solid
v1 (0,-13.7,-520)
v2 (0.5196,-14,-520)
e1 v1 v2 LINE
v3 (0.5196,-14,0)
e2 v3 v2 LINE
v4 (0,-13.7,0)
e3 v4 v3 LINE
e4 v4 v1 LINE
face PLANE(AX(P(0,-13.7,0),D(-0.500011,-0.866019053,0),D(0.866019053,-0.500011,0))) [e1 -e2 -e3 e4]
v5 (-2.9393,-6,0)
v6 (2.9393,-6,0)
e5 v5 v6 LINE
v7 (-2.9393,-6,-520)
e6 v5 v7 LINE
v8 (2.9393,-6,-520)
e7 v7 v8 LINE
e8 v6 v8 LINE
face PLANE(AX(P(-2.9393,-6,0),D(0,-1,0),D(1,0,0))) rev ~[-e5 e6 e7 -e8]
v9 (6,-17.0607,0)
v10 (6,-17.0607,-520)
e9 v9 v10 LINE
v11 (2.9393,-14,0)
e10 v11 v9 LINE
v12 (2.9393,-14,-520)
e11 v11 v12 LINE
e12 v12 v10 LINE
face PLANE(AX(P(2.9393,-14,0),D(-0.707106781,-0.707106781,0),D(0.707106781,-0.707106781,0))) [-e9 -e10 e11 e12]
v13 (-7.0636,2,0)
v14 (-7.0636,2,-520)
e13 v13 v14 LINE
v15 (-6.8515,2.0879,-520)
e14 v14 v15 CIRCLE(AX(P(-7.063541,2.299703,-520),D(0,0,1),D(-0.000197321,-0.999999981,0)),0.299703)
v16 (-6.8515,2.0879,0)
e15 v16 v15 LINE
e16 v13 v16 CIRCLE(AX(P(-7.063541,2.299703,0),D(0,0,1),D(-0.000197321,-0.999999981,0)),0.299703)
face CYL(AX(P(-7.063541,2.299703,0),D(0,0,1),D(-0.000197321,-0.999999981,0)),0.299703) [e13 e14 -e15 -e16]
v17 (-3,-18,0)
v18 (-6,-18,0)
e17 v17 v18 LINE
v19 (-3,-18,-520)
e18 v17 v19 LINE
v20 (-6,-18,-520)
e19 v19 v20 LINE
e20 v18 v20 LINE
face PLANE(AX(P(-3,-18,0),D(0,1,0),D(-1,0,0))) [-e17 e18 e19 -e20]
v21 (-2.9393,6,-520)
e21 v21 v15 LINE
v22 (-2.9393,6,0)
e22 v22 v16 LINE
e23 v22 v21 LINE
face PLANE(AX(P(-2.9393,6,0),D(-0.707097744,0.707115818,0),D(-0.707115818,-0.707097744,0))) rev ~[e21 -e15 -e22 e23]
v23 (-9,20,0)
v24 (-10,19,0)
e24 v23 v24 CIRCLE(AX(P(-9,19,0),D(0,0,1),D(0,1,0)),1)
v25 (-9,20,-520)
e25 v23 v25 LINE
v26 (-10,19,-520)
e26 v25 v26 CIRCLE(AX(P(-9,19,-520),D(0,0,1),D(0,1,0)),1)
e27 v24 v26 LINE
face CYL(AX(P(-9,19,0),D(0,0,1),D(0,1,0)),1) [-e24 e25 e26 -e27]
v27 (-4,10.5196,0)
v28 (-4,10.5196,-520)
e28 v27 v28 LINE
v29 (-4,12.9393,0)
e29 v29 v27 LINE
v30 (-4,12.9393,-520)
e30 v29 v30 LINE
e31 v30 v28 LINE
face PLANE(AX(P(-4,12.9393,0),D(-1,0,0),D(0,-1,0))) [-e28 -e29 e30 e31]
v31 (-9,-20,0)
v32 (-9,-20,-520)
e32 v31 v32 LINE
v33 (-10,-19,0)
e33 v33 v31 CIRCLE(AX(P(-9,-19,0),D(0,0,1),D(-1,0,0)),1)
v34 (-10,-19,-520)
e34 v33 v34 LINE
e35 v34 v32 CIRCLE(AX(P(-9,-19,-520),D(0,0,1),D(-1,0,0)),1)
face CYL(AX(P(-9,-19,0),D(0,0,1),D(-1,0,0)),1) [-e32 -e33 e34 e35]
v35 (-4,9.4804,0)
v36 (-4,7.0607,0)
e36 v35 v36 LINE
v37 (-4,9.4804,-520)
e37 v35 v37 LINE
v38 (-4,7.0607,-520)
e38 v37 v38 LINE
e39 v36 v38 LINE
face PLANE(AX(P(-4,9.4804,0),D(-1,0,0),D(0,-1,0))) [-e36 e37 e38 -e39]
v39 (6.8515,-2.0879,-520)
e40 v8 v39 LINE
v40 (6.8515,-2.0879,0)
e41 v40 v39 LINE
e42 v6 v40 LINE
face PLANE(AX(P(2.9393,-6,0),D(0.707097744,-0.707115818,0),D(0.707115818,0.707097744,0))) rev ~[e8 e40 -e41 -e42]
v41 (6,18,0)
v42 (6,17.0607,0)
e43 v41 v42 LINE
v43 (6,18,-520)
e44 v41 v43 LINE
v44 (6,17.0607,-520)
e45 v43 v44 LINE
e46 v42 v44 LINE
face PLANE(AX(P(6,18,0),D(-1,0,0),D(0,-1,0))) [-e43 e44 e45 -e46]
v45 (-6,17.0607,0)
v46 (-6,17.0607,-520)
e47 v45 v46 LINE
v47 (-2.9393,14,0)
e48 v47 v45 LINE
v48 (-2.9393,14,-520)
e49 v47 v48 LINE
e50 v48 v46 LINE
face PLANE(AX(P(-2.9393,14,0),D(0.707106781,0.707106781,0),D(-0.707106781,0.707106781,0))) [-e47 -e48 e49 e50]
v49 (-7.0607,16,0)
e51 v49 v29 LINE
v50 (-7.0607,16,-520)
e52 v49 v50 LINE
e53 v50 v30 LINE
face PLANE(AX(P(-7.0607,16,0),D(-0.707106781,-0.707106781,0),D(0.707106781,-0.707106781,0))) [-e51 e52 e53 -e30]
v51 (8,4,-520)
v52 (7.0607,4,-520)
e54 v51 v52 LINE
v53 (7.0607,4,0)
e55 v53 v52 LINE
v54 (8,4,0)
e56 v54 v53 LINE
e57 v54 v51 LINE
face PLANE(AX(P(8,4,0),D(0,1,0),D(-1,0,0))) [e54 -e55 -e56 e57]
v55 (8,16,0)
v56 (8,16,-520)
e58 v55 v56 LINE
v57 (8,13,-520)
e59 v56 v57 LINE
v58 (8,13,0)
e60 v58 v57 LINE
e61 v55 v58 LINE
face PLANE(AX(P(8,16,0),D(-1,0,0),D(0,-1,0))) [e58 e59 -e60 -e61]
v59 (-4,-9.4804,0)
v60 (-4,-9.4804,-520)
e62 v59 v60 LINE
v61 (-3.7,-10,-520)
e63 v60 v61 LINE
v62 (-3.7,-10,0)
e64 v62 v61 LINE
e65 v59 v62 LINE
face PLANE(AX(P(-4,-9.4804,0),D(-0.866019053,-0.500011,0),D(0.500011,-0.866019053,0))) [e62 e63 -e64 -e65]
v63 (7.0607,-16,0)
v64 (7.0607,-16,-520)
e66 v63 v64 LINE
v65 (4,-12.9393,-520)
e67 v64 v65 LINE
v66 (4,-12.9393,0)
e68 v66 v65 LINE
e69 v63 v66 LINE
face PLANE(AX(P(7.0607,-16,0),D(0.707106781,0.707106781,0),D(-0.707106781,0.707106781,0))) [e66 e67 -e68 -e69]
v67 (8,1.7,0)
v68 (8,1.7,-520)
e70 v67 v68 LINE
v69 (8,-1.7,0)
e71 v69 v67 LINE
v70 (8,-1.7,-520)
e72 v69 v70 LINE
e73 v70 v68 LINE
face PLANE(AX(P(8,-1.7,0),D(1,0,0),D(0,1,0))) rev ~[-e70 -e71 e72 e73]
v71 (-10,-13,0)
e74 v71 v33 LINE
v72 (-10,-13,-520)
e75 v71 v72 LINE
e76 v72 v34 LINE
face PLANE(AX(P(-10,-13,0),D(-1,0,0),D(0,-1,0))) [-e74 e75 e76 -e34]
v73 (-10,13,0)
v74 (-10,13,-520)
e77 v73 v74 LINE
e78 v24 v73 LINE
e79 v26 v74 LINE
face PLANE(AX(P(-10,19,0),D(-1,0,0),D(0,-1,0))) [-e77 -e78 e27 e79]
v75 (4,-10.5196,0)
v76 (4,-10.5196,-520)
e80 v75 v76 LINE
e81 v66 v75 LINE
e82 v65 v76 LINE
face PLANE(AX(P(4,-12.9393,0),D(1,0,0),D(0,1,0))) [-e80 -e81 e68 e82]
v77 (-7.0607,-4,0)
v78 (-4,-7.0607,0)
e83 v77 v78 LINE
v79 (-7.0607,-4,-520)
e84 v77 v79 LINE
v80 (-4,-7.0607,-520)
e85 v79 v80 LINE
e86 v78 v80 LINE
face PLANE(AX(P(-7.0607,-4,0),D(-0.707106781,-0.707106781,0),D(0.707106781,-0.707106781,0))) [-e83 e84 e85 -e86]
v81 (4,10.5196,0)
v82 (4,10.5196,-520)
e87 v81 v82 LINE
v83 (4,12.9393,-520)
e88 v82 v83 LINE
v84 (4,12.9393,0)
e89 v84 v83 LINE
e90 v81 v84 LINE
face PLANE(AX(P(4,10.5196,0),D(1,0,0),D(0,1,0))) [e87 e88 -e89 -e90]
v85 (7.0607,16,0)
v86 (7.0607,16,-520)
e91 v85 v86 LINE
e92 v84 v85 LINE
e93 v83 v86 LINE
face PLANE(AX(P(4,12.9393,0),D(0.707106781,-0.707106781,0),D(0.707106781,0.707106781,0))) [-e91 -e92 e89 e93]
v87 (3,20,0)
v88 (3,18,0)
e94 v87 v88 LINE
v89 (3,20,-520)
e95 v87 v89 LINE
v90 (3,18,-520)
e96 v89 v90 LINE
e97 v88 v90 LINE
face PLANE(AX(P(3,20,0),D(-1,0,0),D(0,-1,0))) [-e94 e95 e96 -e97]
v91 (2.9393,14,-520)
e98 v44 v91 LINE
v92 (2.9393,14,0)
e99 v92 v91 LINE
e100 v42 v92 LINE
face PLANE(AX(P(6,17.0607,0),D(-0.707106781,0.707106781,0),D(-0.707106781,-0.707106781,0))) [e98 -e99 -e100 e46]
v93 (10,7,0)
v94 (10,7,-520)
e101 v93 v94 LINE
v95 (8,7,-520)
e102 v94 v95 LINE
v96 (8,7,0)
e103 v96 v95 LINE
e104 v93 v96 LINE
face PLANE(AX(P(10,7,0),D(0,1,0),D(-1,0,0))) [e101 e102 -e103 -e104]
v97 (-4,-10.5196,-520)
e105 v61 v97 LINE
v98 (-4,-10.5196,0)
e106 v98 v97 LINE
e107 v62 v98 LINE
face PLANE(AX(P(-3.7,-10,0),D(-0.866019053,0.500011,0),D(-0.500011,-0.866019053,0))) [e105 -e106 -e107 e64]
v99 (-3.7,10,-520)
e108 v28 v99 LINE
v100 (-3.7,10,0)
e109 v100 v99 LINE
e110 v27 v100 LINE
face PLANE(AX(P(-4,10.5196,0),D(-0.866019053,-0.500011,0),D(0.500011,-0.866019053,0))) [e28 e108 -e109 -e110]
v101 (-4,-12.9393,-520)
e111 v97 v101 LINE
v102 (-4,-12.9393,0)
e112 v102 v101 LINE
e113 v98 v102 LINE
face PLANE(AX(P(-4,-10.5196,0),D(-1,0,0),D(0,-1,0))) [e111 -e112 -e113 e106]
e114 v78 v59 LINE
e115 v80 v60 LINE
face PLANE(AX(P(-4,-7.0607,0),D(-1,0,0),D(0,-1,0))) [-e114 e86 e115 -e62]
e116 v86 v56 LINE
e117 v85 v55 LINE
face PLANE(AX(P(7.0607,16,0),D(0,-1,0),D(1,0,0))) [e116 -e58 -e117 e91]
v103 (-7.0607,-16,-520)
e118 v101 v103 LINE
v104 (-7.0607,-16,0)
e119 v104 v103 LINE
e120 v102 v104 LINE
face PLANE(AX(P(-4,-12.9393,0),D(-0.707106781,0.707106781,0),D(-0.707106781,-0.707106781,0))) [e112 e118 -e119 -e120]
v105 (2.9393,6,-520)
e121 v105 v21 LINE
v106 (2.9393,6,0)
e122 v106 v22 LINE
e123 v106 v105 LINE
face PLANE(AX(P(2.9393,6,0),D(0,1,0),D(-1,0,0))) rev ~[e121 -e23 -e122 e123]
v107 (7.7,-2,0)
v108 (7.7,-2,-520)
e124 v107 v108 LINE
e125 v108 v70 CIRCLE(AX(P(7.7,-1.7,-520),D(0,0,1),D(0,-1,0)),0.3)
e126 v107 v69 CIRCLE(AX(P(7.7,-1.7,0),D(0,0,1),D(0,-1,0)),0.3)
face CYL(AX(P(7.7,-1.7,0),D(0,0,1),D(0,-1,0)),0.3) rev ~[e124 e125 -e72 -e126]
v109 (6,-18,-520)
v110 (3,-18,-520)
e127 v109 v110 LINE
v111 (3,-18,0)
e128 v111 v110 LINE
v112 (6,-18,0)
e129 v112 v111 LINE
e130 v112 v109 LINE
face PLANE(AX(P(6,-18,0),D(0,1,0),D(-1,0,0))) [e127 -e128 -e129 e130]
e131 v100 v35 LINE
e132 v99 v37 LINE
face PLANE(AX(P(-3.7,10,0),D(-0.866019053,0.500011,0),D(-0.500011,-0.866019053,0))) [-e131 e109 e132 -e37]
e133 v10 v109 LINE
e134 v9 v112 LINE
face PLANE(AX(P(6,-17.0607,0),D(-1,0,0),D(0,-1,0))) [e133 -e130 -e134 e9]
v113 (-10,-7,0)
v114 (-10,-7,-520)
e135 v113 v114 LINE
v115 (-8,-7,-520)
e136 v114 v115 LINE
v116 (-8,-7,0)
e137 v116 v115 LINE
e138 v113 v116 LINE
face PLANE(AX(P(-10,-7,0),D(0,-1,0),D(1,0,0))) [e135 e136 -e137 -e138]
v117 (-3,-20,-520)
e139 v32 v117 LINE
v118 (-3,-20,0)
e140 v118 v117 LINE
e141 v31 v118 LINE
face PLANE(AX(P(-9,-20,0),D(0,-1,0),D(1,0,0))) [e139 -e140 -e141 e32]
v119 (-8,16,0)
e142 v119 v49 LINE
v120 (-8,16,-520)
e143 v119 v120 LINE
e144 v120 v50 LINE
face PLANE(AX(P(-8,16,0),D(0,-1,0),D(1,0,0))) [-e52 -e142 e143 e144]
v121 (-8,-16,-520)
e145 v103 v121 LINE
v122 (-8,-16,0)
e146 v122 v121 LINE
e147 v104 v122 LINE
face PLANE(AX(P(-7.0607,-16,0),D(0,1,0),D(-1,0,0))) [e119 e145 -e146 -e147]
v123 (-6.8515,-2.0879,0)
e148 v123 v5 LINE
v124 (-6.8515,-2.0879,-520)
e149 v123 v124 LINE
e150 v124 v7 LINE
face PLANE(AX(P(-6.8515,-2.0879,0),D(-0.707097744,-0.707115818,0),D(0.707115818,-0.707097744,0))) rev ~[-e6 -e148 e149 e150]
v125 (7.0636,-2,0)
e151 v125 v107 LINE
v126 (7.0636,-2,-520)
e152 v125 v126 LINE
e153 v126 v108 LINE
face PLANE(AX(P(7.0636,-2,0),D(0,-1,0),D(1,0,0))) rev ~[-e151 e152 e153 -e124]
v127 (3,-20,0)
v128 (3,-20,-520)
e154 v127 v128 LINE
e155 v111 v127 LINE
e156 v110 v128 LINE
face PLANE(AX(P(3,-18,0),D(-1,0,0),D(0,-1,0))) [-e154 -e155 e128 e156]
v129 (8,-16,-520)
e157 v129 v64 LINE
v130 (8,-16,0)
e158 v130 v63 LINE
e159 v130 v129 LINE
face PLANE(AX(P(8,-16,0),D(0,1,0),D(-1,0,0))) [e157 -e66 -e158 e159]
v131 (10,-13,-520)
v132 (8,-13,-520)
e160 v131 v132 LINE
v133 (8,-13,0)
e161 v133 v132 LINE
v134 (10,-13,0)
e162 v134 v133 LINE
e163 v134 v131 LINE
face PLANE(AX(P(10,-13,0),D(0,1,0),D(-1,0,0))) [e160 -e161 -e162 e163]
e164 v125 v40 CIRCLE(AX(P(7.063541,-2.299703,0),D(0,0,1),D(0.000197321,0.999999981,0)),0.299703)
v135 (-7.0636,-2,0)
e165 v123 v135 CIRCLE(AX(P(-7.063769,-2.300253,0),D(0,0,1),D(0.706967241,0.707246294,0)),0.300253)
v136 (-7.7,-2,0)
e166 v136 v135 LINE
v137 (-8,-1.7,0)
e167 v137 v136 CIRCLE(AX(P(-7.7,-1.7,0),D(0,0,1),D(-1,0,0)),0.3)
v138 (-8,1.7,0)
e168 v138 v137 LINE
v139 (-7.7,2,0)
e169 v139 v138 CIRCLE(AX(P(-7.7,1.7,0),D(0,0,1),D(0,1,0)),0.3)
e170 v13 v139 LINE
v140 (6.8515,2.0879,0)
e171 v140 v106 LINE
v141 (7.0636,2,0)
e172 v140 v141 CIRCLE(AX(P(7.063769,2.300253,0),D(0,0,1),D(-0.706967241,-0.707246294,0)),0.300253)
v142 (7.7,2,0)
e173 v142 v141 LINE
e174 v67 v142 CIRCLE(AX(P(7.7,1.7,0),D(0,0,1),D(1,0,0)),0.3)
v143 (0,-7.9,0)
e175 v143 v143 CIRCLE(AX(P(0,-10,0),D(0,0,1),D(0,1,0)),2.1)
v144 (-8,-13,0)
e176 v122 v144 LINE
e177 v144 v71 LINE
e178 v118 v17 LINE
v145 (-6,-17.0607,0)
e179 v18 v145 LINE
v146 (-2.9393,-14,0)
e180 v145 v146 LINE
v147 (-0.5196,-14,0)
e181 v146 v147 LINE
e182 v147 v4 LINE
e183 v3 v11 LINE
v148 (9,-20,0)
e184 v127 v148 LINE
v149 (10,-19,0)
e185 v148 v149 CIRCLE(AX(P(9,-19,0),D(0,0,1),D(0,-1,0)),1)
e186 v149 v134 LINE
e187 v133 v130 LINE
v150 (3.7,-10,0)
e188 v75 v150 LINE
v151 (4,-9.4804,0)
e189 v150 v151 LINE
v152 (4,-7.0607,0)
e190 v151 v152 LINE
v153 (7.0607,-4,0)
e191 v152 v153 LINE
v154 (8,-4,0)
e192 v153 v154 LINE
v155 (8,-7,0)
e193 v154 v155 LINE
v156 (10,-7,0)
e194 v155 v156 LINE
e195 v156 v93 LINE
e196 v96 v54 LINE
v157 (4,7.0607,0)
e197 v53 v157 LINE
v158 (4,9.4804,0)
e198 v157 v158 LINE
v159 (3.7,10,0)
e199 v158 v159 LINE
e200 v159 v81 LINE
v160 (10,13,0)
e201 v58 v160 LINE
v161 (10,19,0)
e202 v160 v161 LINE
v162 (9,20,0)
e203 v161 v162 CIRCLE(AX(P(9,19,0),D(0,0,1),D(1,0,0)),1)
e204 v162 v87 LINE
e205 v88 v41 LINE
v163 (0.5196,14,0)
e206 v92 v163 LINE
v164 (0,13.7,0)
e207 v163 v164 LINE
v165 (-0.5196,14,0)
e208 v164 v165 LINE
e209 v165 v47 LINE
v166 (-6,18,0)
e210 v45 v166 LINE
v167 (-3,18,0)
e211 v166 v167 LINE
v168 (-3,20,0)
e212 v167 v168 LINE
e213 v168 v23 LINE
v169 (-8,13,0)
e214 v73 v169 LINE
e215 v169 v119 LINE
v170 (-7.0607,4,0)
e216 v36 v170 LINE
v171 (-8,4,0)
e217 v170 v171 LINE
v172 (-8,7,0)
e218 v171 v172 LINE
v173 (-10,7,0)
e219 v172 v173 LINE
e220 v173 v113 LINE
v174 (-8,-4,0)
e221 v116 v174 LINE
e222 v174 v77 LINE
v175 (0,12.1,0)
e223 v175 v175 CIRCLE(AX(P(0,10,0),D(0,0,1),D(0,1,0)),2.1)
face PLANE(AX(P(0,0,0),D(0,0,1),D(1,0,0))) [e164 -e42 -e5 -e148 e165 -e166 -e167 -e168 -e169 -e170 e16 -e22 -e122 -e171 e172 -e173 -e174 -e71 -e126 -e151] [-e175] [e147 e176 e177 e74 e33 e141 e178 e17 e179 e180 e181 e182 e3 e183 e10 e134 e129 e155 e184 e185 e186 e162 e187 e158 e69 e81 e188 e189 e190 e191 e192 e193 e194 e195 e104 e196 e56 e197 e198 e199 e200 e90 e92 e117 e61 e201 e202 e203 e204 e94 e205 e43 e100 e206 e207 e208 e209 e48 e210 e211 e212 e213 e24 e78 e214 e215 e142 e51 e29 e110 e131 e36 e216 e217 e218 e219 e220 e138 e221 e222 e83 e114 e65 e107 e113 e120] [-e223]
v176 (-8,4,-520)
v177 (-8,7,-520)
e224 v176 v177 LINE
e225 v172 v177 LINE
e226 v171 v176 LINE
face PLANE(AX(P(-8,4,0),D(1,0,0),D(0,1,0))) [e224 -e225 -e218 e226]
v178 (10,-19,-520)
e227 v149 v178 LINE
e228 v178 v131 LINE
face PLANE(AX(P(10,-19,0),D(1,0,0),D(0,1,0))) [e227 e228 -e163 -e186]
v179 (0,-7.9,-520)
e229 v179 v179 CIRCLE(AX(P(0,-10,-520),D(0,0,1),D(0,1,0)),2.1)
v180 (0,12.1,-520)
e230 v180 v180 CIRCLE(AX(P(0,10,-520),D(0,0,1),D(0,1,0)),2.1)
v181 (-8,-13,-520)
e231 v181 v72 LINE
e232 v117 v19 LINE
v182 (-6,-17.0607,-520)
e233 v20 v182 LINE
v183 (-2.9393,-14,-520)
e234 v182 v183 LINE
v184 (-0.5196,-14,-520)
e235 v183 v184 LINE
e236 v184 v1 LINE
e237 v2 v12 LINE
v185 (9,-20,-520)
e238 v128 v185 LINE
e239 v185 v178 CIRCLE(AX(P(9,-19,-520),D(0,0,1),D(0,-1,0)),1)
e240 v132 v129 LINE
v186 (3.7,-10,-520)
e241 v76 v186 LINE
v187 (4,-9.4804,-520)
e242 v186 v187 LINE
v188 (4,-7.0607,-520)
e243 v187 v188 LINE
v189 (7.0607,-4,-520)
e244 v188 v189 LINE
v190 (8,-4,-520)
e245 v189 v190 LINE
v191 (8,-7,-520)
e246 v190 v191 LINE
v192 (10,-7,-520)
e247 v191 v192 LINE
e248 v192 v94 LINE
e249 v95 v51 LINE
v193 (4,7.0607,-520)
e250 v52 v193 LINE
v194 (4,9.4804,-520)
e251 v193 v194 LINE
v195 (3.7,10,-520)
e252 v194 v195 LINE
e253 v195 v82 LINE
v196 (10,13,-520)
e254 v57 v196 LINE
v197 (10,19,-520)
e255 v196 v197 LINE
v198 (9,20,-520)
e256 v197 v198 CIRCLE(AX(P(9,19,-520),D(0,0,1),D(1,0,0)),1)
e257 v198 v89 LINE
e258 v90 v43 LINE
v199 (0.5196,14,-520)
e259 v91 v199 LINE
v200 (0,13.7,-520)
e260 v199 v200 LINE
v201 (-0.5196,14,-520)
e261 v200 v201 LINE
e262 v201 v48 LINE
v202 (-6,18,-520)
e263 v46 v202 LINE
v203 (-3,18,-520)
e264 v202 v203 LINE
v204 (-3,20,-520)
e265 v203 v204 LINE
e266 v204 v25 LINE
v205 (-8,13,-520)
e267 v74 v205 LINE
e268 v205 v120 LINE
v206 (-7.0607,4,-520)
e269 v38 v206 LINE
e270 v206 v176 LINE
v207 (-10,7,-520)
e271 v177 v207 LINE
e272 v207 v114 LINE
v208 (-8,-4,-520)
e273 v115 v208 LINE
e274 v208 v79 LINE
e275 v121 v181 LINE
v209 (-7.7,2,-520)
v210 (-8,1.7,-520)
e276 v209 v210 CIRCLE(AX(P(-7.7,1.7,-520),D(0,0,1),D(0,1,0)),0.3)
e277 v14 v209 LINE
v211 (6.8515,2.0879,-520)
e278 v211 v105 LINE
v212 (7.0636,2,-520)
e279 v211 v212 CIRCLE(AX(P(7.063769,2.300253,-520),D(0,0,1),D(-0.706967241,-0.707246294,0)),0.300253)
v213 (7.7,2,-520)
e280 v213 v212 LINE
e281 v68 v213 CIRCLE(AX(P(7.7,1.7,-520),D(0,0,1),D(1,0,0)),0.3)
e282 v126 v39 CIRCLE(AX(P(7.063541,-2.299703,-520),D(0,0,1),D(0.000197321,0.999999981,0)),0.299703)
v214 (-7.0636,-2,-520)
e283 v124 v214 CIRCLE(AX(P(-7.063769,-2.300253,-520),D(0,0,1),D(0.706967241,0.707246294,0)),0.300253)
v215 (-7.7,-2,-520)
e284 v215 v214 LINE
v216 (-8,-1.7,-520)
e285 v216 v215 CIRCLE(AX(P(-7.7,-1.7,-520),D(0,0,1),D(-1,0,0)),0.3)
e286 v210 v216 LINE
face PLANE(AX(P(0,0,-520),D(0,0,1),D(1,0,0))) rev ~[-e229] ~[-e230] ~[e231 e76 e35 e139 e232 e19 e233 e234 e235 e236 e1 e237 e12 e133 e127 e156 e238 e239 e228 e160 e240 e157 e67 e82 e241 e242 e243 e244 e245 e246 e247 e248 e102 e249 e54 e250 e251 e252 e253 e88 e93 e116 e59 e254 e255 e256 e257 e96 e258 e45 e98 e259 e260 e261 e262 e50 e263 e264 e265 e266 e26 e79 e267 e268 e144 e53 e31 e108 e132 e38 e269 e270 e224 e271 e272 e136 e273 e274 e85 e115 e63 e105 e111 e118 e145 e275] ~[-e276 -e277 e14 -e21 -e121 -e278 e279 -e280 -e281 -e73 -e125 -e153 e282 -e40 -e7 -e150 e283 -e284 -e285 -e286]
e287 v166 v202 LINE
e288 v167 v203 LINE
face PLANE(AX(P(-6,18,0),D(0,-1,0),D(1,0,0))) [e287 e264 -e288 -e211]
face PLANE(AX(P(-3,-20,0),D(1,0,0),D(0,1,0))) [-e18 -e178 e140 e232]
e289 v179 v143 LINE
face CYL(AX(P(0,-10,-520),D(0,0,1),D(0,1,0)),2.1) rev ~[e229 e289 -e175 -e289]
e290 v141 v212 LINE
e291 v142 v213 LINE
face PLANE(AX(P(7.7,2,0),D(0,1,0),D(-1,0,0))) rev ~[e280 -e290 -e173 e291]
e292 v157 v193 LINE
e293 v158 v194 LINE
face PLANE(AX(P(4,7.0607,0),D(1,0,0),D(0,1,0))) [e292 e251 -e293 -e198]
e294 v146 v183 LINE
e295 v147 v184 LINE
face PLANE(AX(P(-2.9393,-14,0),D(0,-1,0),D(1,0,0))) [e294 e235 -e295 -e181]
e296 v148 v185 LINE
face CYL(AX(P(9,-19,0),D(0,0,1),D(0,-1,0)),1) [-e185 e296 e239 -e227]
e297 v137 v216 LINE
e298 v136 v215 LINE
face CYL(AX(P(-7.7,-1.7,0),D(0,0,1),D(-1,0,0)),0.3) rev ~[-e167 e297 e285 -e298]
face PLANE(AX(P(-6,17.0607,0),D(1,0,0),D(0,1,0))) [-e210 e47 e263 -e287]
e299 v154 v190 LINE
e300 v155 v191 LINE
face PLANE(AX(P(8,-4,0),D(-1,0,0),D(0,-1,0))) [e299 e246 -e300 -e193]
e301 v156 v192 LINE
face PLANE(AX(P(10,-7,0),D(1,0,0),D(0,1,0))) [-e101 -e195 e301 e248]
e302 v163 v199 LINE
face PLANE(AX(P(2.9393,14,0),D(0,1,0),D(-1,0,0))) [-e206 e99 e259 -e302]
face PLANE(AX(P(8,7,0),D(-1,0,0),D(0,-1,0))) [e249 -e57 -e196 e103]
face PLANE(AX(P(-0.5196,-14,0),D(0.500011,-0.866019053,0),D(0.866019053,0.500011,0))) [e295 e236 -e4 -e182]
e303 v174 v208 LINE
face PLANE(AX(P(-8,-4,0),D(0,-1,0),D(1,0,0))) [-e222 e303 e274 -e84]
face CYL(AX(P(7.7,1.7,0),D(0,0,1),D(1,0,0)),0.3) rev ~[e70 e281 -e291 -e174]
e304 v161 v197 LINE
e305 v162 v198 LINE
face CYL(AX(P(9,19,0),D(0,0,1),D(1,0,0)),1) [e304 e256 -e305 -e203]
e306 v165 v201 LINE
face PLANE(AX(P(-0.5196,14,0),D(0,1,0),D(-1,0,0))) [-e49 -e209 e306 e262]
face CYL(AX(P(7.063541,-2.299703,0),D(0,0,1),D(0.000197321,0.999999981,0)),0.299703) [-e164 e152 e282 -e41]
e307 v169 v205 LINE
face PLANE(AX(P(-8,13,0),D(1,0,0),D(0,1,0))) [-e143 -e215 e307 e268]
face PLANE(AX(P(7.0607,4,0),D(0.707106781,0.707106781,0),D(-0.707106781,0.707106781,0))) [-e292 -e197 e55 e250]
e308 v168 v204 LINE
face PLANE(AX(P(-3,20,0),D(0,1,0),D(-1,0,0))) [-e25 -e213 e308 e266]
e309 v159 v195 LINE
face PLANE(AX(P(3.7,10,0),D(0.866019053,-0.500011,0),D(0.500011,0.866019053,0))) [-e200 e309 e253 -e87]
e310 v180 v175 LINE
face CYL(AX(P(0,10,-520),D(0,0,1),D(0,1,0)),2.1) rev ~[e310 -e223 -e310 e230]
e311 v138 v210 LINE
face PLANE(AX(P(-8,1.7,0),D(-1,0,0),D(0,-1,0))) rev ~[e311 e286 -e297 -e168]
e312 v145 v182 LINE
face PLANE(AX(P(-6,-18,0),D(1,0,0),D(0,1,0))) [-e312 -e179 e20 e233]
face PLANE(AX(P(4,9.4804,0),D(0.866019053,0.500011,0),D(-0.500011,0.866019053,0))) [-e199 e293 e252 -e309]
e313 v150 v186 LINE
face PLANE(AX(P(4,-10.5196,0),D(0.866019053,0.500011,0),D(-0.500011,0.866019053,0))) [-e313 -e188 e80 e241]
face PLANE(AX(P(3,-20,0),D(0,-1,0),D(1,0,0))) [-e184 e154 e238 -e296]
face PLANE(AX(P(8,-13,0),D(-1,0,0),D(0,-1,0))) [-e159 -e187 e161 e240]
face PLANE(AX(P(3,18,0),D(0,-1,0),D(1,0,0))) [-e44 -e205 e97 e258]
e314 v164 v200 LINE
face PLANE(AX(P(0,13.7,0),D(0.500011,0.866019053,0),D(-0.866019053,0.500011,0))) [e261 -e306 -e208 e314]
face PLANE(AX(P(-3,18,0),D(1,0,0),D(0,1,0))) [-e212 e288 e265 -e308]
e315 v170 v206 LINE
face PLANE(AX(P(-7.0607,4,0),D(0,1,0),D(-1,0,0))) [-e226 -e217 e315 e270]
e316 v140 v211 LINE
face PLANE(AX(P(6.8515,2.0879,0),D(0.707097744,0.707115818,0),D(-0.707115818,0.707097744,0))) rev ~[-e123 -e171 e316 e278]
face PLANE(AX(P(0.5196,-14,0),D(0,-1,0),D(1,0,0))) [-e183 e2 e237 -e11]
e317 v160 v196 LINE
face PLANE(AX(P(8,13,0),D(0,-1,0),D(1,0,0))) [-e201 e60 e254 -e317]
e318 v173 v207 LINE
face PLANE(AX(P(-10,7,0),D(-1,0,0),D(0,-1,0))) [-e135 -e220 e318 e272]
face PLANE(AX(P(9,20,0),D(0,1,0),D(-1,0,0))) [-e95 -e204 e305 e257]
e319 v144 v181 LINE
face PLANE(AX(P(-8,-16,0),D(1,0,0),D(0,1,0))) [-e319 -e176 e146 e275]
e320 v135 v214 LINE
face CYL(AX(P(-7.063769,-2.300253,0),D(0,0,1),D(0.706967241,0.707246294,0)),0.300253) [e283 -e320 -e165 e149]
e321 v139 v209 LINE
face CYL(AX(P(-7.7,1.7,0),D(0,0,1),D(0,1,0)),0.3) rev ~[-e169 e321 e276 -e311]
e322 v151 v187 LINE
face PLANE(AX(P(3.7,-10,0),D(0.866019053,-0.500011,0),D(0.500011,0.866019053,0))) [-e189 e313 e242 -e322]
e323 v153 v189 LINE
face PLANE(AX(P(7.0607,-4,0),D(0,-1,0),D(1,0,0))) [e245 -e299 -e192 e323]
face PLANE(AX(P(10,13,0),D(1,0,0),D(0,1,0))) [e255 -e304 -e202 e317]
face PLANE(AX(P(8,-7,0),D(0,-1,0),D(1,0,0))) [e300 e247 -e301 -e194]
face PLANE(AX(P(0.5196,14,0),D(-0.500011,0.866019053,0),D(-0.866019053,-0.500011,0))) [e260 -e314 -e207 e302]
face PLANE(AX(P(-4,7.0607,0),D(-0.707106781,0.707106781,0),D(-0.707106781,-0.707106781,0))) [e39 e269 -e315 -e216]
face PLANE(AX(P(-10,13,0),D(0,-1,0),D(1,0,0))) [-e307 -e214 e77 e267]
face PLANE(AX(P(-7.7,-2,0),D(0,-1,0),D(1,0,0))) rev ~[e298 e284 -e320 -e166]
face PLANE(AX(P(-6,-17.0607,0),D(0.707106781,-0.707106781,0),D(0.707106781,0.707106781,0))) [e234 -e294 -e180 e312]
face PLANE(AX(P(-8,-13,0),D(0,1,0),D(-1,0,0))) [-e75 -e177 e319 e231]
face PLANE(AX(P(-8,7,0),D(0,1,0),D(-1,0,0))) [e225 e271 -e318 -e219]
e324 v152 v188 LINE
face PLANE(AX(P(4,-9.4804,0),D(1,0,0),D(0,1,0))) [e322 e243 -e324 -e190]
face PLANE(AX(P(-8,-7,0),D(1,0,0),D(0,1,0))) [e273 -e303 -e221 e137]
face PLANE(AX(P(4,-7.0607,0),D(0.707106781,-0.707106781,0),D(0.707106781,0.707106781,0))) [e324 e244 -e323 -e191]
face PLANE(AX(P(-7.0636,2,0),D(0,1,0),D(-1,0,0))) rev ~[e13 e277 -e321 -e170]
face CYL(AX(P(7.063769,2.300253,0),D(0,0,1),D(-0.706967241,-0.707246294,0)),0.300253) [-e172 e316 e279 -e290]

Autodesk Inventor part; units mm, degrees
sketch "Sketch_1" plane through (0, 0, 0) normal (0, 0, 1) x (1, 0, 0)
  line L0 (-10, -7) -> (-8, -7)
  line L1 (-8, -7) -> (-8, -4)
  line L2 (-8, -4) -> (-7.0607, -4)
  line L3 (-7.0607, -4) -> (-4, -7.0607)
  line L4 (-4, -7.0607) -> (-4, -9.4804)
  line L5 (-4, -9.4804) -> (-3.7, -10)
  line L6 (-3.7, -10) -> (-4, -10.5196)
  line L7 (-4, -10.5196) -> (-4, -12.9393)
  line L8 (-4, -12.9393) -> (-7.0607, -16)
  line L9 (-7.0607, -16) -> (-8, -16)
  line L10 (-8, -16) -> (-8, -13)
  line L11 (-8, -13) -> (-10, -13)
  line L12 (-10, -13) -> (-10, -19)
  arc A0 (-10, -19) -> (-9, -20) centre (-9, -19) ccw
  line L13 (-9, -20) -> (-3, -20)
  line L14 (-3, -20) -> (-3, -18)
  line L15 (-3, -18) -> (-6, -18)
  line L16 (-6, -18) -> (-6, -17.0607)
  line L17 (-6, -17.0607) -> (-2.9393, -14)
  line L18 (-2.9393, -14) -> (-0.5196, -14)
  line L19 (-0.5196, -14) -> (0, -13.7)
  line L20 (0, -13.7) -> (0.5196, -14)
  line L21 (0.5196, -14) -> (2.9393, -14)
  line L22 (2.9393, -14) -> (6, -17.0607)
  line L23 (6, -17.0607) -> (6, -18)
  line L24 (6, -18) -> (3, -18)
  line L25 (3, -18) -> (3, -20)
  line L26 (3, -20) -> (9, -20)
  arc A1 (9, -20) -> (10, -19) centre (9, -19) ccw
  line L27 (10, -19) -> (10, -13)
  line L28 (10, -13) -> (8, -13)
  line L29 (8, -13) -> (8, -16)
  line L30 (8, -16) -> (7.0607, -16)
  line L31 (7.0607, -16) -> (4, -12.9393)
  line L32 (4, -12.9393) -> (4, -10.5196)
  line L33 (4, -10.5196) -> (3.7, -10)
  line L34 (3.7, -10) -> (4, -9.4804)
  line L35 (4, -9.4804) -> (4, -7.0607)
  line L36 (4, -7.0607) -> (7.0607, -4)
  line L37 (7.0607, -4) -> (8, -4)
  line L38 (8, -4) -> (8, -7)
  line L39 (8, -7) -> (10, -7)
  line L40 (10, -7) -> (10, 7)
  line L41 (10, 7) -> (8, 7)
  line L42 (8, 7) -> (8, 4)
  line L43 (8, 4) -> (7.0607, 4)
  line L44 (7.0607, 4) -> (4, 7.0607)
  line L45 (4, 7.0607) -> (4, 9.4804)
  line L46 (4, 9.4804) -> (3.7, 10)
  line L47 (3.7, 10) -> (4, 10.5196)
  line L48 (4, 10.5196) -> (4, 12.9393)
  line L49 (4, 12.9393) -> (7.0607, 16)
  line L50 (7.0607, 16) -> (8, 16)
  line L51 (8, 16) -> (8, 13)
  line L52 (8, 13) -> (10, 13)
  line L53 (10, 13) -> (10, 19)
  arc A2 (10, 19) -> (9, 20) centre (9, 19) ccw
  line L54 (9, 20) -> (3, 20)
  line L55 (3, 20) -> (3, 18)
  line L56 (3, 18) -> (6, 18)
  line L57 (6, 18) -> (6, 17.0607)
  line L58 (6, 17.0607) -> (2.9393, 14)
  line L59 (2.9393, 14) -> (0.5196, 14)
  line L60 (0.5196, 14) -> (0, 13.7)
  line L61 (0, 13.7) -> (-0.5196, 14)
  line L62 (-0.5196, 14) -> (-2.9393, 14)
  line L63 (-2.9393, 14) -> (-6, 17.0607)
  line L64 (-6, 17.0607) -> (-6, 18)
  line L65 (-6, 18) -> (-3, 18)
  line L66 (-3, 18) -> (-3, 20)
  line L67 (-3, 20) -> (-9, 20)
  arc A3 (-9, 20) -> (-10, 19) centre (-9, 19) ccw
  line L68 (-10, 19) -> (-10, 13)
  line L69 (-10, 13) -> (-8, 13)
  line L70 (-8, 13) -> (-8, 16)
  line L71 (-8, 16) -> (-7.0607, 16)
  line L72 (-7.0607, 16) -> (-4, 12.9393)
  line L73 (-4, 12.9393) -> (-4, 10.5196)
  line L74 (-4, 10.5196) -> (-3.7, 10)
  line L75 (-3.7, 10) -> (-4, 9.4804)
  line L76 (-4, 9.4804) -> (-4, 7.0607)
  line L77 (-4, 7.0607) -> (-7.0607, 4)
  line L78 (-7.0607, 4) -> (-8, 4)
  line L79 (-8, 4) -> (-8, 7)
  line L80 (-8, 7) -> (-10, 7)
  line L81 (-10, 7) -> (-10, -7)
  line L82 (-8, 1.7) -> (-8, -1.7)
  arc A4 (-8, -1.7) -> (-7.7, -2) centre (-7.7, -1.7) ccw
  line L83 (-7.7, -2) -> (-7.0636, -2)
  arc A5 (-6.8515, -2.0879) -> (-7.0636, -2) centre (-7.0636, -2.3) ccw
  line L84 (-6.8515, -2.0879) -> (-2.9393, -6)
  line L85 (-2.9393, -6) -> (2.9393, -6)
  line L86 (2.9393, -6) -> (6.8515, -2.0879)
  arc A6 (7.0636, -2) -> (6.8515, -2.0879) centre (7.0636, -2.3) ccw
  line L87 (7.0636, -2) -> (7.7, -2)
  arc A7 (7.7, -2) -> (8, -1.7) centre (7.7, -1.7) ccw
  line L88 (8, -1.7) -> (8, 1.7)
  arc A8 (8, 1.7) -> (7.7, 2) centre (7.7, 1.7) ccw
  line L89 (7.7, 2) -> (7.0636, 2)
  arc A9 (6.8515, 2.0879) -> (7.0636, 2) centre (7.0636, 2.3) ccw
  line L90 (6.8515, 2.0879) -> (2.9393, 6)
  line L91 (2.9393, 6) -> (-2.9393, 6)
  line L92 (-2.9393, 6) -> (-6.8515, 2.0879)
  arc A10 (-7.0636, 2) -> (-6.8515, 2.0879) centre (-7.0636, 2.3) ccw
  line L93 (-7.0636, 2) -> (-7.7, 2)
  arc A11 (-7.7, 2) -> (-8, 1.7) centre (-7.7, 1.7) ccw
extrude "Extrusion1" add sketch "Sketch_1" against normal blind 520
sketch "Sketch2" plane through (0, 0, -520) normal (0, 0, -1) x (-1, 0, 0)
  point P0 (0, 10)
hole "Hole1" at (0, 10, -520) direction (0, 0, 1) diameter 4.2 depth 520
pattern_linear "Rectangular Pattern1" count 2 spacing 20 along (0, -1, 0) of "Hole1"
ref_plane "C1_XY" through (0, 0, 0) normal (0, 0, 1) x (1, 0, 0)
ref_plane "C1_YZ" through (0, 0, 0) normal (1, 0, 0) x (0, 1, 0)
ref_plane "C1_ZX" through (0, 0, 0) normal (0, 1, 0) x (0, 0, 1)
properties part number "HFS5-2040-520"
